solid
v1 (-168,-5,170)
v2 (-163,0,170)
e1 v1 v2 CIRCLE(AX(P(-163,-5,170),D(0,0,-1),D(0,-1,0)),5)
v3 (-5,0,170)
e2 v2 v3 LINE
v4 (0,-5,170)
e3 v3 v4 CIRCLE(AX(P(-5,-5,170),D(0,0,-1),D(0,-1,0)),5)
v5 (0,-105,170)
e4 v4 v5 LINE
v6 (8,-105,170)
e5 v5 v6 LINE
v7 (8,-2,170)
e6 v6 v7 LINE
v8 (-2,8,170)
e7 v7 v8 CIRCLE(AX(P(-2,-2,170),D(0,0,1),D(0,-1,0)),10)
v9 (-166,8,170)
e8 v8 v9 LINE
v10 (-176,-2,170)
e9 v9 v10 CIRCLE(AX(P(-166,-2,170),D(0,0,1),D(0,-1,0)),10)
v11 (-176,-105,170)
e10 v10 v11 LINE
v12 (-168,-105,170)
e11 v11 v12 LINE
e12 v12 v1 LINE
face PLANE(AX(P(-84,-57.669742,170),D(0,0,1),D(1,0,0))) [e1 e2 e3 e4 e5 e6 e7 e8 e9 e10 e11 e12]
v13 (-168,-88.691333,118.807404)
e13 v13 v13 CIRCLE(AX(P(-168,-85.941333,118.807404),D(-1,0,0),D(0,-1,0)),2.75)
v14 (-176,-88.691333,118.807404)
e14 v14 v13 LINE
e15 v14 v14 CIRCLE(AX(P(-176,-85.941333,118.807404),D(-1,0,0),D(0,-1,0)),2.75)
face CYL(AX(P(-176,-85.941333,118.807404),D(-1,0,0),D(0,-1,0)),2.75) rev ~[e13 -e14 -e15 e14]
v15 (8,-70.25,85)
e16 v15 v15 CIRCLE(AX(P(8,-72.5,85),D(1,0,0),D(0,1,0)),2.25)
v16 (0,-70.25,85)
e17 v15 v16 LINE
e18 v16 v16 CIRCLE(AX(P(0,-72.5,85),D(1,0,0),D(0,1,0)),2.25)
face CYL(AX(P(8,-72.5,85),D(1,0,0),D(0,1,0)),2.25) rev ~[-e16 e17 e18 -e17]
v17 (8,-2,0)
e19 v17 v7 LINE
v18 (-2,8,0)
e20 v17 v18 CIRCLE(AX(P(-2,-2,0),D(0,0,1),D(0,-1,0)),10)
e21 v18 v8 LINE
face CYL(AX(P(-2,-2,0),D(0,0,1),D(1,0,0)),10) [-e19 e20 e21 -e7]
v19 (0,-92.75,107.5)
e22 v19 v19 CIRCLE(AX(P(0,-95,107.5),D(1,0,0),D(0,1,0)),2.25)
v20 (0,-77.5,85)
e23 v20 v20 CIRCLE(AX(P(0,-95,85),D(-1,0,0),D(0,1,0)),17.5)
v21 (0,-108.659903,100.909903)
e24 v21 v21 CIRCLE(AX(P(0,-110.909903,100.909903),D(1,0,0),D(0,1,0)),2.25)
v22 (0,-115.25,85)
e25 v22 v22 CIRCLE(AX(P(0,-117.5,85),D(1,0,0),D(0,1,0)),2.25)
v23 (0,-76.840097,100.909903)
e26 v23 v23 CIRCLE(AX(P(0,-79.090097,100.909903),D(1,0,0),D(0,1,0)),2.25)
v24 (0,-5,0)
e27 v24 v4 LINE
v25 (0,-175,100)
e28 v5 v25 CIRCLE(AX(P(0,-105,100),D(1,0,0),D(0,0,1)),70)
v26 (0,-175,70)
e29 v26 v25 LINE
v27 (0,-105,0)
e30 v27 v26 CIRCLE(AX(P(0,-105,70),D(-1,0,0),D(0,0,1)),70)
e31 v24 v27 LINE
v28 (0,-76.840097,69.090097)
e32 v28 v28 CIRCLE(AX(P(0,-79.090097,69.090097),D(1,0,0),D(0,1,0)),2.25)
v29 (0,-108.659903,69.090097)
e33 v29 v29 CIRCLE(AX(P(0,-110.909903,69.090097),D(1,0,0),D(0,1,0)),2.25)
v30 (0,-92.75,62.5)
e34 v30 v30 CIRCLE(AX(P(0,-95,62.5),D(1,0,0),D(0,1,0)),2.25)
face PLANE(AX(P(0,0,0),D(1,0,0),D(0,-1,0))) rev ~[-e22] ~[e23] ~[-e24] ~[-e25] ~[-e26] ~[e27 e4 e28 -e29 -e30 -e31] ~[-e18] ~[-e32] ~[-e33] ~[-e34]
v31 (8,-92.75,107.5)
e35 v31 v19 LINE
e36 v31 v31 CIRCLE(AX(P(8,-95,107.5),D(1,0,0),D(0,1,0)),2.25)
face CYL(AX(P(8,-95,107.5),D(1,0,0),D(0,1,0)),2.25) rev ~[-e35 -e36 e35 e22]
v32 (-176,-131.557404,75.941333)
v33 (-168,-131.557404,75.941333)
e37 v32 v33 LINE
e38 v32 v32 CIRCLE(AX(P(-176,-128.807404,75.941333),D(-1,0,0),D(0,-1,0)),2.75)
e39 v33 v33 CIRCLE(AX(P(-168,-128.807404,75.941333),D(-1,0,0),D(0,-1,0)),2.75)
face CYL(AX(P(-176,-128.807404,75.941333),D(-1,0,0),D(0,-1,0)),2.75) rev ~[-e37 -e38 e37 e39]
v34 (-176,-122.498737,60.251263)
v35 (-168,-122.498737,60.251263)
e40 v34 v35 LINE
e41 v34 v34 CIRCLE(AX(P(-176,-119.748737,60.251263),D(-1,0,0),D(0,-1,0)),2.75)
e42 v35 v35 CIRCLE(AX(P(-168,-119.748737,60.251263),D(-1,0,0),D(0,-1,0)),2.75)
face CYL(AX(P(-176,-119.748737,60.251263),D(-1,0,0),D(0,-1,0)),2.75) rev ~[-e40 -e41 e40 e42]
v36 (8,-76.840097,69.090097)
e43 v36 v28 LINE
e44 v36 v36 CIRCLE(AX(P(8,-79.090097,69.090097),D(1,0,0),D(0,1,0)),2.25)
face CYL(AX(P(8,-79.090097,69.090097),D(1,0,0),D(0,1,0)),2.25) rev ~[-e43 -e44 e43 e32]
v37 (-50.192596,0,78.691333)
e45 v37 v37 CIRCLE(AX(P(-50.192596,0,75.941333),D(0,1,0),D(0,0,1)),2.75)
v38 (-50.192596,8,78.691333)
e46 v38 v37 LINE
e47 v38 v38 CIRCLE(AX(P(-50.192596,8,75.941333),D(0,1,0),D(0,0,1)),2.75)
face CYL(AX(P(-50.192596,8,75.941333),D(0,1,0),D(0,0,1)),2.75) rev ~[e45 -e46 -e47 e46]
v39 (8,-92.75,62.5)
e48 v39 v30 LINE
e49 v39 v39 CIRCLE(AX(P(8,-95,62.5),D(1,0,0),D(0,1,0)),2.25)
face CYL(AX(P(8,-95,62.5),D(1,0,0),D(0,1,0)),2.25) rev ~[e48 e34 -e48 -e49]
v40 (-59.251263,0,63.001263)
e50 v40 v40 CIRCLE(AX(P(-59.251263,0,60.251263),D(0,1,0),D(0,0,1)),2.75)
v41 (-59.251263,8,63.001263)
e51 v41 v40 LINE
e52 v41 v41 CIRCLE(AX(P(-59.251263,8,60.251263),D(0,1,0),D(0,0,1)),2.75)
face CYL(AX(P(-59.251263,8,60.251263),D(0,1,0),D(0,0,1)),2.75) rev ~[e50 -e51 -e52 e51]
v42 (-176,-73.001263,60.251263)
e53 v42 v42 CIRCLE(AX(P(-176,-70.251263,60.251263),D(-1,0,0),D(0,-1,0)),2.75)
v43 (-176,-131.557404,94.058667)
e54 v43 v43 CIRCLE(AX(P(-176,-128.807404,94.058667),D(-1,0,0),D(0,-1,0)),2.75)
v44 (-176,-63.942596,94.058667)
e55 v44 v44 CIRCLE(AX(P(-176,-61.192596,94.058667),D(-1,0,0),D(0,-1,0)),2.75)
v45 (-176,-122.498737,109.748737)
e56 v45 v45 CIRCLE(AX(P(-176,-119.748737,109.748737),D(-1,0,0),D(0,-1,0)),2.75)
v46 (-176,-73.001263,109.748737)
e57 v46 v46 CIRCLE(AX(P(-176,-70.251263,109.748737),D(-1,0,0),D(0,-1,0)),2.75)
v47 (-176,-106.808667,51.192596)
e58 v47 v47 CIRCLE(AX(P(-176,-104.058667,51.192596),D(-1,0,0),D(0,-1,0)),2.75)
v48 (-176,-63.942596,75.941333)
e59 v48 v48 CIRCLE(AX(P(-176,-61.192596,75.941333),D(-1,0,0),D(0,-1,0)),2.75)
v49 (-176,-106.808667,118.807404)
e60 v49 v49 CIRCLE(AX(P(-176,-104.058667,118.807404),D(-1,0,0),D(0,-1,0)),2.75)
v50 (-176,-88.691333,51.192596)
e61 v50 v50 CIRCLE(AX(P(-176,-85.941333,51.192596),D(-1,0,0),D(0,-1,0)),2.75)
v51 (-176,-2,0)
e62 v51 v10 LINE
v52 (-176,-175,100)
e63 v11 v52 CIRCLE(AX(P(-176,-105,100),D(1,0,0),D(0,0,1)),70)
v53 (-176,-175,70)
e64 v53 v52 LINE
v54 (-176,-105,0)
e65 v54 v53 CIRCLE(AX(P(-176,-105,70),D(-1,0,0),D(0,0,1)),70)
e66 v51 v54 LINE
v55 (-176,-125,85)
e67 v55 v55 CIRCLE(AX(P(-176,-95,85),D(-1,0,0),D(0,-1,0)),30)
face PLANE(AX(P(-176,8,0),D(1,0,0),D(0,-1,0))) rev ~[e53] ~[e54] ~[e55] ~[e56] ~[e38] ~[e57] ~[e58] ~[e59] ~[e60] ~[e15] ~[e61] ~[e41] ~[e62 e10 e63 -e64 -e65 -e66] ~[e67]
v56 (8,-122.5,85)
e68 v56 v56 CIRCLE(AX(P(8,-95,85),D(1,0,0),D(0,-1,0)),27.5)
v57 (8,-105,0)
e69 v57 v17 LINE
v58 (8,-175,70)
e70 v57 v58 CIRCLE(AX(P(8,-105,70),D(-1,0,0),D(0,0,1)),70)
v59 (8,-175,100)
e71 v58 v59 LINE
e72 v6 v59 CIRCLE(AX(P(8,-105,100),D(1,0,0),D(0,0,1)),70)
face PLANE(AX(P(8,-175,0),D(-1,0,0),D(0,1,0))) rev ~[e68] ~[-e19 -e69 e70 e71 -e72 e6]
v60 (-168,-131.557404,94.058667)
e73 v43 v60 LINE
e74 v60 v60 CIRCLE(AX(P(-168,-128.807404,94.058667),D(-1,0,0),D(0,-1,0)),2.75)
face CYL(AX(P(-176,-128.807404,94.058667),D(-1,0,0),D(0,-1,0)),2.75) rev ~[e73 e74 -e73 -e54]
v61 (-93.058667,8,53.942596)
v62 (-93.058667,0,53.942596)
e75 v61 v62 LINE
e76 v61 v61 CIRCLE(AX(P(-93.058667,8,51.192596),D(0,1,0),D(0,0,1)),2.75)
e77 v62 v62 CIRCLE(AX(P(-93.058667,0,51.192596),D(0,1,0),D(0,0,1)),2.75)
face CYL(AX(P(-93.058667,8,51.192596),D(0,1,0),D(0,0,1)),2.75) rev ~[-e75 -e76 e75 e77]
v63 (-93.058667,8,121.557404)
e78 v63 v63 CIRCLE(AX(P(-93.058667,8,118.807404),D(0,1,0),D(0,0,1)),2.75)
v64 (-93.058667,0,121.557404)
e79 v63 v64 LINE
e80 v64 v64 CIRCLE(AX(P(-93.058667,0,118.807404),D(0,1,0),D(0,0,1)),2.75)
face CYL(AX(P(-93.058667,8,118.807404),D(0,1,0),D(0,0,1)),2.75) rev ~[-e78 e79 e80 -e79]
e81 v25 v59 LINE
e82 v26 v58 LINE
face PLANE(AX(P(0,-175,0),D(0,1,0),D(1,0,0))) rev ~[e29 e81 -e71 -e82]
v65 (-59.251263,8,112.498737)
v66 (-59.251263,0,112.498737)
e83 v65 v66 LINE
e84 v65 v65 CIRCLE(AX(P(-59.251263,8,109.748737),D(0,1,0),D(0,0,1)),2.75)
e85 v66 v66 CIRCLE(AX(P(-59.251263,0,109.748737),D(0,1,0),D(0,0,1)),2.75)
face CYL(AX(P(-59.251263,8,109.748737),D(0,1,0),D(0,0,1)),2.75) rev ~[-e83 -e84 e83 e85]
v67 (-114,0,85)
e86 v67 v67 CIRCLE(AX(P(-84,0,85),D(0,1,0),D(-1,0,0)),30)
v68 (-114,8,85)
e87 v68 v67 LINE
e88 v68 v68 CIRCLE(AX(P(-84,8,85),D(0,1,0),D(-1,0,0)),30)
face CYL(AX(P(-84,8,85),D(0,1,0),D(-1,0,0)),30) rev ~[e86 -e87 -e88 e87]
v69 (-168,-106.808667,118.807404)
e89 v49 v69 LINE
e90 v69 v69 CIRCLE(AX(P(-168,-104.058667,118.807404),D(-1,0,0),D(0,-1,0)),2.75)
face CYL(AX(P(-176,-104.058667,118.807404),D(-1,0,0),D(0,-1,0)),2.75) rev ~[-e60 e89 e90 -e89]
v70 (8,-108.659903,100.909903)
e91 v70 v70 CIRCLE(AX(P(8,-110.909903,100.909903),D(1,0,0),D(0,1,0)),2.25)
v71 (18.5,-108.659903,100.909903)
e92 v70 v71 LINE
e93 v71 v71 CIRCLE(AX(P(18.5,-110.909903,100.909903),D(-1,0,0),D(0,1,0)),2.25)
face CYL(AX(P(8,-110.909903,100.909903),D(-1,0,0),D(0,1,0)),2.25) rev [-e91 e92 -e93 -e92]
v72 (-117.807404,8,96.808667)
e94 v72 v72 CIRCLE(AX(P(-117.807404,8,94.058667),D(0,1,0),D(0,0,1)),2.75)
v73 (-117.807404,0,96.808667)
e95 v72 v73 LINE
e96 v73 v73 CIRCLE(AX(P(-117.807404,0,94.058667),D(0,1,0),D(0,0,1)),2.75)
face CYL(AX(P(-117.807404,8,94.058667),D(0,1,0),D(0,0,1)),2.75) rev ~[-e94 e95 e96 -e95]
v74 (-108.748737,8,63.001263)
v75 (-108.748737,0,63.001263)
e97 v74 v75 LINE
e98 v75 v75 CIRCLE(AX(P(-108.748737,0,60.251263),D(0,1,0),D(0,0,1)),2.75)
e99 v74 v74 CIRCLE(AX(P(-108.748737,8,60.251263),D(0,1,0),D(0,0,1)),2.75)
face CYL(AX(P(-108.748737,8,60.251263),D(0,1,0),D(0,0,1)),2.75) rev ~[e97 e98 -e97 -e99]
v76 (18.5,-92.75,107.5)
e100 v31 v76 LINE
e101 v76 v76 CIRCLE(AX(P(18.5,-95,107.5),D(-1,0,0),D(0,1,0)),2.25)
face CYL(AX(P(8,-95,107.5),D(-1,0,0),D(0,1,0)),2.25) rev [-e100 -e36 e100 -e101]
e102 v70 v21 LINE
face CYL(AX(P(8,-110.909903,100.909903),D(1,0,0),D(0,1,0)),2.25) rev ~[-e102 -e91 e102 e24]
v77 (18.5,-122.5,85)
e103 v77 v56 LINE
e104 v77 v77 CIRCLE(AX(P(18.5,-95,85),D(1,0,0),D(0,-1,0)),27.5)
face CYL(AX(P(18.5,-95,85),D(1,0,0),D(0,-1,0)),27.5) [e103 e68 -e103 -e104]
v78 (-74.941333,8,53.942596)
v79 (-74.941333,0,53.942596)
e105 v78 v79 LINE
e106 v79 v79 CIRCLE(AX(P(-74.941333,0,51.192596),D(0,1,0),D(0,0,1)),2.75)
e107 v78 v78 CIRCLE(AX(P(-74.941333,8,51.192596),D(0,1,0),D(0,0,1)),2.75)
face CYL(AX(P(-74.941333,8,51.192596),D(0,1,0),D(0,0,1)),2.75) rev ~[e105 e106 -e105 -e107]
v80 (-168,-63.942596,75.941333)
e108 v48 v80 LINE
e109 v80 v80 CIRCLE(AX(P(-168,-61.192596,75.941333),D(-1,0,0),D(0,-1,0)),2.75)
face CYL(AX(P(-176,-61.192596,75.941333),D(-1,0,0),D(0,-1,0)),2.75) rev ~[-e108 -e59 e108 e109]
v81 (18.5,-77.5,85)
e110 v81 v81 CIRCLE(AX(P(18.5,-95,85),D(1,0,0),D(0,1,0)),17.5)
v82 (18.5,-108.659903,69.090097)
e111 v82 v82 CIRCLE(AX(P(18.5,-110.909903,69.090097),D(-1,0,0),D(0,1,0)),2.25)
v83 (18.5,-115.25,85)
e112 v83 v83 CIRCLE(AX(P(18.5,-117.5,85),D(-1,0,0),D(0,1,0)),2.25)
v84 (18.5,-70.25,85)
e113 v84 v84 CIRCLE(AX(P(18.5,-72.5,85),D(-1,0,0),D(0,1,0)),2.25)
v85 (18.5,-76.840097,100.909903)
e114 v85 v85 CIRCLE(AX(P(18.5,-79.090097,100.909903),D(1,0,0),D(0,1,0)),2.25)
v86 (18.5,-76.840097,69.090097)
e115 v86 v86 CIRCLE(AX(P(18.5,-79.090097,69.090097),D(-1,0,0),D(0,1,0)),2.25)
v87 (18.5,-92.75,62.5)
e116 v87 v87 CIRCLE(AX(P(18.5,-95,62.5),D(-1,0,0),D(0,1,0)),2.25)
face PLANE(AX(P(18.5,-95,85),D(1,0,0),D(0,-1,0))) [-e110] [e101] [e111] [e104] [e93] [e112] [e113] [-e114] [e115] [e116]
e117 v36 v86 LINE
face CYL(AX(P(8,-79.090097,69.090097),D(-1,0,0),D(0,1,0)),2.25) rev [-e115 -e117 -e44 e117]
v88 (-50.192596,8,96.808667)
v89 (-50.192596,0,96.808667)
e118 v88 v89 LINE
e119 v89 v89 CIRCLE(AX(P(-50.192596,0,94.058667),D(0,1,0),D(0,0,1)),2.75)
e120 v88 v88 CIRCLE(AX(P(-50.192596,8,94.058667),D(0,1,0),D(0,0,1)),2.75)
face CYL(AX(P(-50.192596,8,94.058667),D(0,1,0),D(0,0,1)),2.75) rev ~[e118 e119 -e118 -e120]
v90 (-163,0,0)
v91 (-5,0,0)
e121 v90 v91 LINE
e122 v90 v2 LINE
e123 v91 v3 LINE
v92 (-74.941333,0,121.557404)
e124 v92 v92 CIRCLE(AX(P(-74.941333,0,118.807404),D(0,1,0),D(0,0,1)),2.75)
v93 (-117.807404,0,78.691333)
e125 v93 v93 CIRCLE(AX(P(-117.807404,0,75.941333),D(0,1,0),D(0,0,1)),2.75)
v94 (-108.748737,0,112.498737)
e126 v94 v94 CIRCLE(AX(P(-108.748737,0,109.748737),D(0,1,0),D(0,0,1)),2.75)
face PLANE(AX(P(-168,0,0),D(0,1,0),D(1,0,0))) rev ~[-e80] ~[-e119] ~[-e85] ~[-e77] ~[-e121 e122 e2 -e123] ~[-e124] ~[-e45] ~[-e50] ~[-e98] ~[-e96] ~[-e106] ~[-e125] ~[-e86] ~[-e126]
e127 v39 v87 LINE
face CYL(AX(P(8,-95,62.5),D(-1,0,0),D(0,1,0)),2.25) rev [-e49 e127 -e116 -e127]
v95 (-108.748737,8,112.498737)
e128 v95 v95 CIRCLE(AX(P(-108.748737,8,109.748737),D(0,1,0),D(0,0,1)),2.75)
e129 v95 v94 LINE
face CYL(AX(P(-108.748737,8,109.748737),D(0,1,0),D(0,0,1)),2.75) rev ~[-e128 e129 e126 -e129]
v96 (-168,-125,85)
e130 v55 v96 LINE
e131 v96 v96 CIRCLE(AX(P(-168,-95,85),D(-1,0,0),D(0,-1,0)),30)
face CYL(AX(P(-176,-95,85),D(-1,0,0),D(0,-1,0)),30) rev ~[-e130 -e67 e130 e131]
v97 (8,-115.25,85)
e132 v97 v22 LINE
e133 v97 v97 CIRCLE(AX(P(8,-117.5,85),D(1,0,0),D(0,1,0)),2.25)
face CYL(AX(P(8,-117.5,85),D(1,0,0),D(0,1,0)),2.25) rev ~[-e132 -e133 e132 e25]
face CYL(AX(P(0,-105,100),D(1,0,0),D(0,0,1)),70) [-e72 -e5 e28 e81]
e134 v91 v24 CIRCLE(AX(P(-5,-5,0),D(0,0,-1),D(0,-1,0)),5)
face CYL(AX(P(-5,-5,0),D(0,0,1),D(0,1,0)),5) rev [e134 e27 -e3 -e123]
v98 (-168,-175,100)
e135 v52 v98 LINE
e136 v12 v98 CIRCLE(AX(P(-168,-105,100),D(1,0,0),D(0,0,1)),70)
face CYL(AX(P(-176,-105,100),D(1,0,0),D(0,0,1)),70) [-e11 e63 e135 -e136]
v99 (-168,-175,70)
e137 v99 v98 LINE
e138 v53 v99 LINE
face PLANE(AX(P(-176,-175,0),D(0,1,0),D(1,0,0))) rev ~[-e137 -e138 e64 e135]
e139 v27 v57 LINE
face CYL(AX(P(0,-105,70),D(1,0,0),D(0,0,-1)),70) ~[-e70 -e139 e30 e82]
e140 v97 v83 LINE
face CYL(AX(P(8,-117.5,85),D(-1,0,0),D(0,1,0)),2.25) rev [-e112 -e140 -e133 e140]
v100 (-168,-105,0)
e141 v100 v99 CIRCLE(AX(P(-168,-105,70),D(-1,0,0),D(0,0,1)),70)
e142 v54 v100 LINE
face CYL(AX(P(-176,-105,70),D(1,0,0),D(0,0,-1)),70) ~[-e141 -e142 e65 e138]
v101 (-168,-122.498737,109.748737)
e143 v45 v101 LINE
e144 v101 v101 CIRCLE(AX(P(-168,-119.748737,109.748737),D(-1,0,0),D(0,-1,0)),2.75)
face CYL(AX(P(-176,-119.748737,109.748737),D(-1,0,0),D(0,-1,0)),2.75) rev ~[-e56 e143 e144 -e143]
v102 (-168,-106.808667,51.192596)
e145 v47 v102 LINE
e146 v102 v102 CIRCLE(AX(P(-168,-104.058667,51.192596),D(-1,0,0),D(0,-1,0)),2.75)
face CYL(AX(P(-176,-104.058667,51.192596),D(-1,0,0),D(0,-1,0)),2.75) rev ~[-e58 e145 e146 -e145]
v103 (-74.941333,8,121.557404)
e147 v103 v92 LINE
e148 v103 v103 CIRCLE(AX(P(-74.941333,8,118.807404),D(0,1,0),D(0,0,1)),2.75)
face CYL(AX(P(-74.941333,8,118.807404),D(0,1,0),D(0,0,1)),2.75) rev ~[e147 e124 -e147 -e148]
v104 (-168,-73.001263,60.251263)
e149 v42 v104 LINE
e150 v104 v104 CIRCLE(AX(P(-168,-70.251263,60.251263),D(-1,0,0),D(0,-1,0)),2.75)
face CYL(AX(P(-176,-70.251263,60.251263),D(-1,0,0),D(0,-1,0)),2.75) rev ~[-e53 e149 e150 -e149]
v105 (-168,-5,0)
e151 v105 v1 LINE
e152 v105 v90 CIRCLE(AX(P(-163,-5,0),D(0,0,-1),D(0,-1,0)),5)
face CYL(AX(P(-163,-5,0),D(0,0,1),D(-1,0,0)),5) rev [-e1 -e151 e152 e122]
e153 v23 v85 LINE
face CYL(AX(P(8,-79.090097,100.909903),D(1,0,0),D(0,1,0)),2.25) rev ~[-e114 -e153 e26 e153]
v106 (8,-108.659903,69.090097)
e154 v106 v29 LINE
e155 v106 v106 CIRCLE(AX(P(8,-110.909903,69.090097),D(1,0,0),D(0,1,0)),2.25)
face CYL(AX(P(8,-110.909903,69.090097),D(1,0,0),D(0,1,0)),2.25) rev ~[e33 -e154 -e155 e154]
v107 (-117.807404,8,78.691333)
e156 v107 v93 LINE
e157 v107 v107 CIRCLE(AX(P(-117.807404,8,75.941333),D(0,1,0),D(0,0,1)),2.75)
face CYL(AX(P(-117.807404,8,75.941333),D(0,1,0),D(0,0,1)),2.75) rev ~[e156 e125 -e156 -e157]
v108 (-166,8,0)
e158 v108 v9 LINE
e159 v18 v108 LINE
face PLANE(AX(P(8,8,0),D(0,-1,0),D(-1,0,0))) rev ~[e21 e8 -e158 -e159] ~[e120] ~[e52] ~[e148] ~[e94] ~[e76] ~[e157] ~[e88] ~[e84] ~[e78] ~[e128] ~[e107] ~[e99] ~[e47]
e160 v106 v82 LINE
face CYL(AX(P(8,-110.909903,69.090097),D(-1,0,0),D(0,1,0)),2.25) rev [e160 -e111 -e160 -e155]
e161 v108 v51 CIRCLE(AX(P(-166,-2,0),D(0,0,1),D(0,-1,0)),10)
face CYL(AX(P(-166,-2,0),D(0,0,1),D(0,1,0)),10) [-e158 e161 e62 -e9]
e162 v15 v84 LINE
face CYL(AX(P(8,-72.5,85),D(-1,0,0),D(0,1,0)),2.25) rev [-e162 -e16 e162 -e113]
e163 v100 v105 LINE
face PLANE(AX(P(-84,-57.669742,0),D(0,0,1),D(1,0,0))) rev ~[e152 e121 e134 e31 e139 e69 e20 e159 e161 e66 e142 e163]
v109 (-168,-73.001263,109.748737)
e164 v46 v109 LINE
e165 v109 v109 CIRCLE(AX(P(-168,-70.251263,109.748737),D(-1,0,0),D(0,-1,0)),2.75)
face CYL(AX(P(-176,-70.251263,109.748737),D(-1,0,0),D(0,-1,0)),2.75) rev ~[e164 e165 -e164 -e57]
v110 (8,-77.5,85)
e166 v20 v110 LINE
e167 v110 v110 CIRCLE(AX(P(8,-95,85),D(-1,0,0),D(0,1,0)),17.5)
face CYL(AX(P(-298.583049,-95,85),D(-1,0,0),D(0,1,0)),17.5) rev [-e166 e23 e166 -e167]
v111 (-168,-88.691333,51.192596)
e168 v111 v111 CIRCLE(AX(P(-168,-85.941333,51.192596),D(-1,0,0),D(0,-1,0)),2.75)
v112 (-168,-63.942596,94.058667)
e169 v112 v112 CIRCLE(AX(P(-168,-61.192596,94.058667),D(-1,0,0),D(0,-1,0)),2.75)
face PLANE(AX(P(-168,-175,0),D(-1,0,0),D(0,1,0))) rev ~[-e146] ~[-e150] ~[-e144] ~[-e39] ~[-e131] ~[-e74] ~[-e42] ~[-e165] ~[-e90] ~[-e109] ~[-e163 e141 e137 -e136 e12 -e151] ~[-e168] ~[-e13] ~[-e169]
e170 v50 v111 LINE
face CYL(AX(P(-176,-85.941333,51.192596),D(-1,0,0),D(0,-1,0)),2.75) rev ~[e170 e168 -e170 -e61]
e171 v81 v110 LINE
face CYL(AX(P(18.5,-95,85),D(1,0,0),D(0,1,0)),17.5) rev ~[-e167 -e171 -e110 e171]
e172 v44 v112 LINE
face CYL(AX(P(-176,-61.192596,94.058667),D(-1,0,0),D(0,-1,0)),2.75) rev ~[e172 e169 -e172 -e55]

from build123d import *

# Parameters (mm, degrees)
EXTRUDE_1_DEPTH          = 170
SKETCH_2_R               = 30
CUT_EXTRUDE_1_DEPTH      = 180
CUT_EXTRUDE_2_DEPTH      = 306.583049268
CUT_EXTRUDE_2_DEPTH_BACK = 306.583049268
SKETCH_3_R               = 17.5
FILLET_1_R               = 70
FILLET_2_R               = 5
FILLET_3_R               = 10
SKETCH_6_R               = 30
CUT_EXTRUDE_6_DEPTH      = 39
SKETCH_12_R              = 2.75
CUT_EXTRUDE_12_DEPTH     = 10
EXTRUDE_START            = 10.5
SKETCH_14_R              = 27.5
SKETCH_14_R_2            = 17.5
EXTRUDE_2_DEPTH          = 10.5
SKETCH_13_R              = 2.25
CUT_EXTRUDE_13_DEPTH     = 15
SKETCH_15_R              = 2.75
CUT_EXTRUDE_14_DEPTH     = 10


with BuildPart() as part:
    # 草图1 → 凸台-拉伸1 (new body)
    with BuildSketch(Plane.XY):
        Polygon((-168, 0), (0, 0), (0, -175), (8, -175), (8, 8), (-168, 8), (-176, 8), (-176, -175), (-168, -175), align=None)
    extrude(amount=EXTRUDE_1_DEPTH)

    # 草图2 → 切除-拉伸1 (cut)
    with BuildSketch(Plane(origin=(0, 8, 0), x_dir=(1, 0, 0), z_dir=(0, 1, 0))):
        with Locations(Location((-84, -85, 0), (0, 0, 180))):
            Circle(SKETCH_2_R)
    extrude(amount=-CUT_EXTRUDE_1_DEPTH, mode=Mode.SUBTRACT)

    # 草图3 → 切除-拉伸2 (cut, two sides: drawn at the far end of the back side and taken through both)
    with BuildSketch(Plane(origin=(8, 0, 0), x_dir=(0, 0, -1), z_dir=(1, 0, 0)).offset(-CUT_EXTRUDE_2_DEPTH_BACK)):
        with Locations(Location((-85, -95, 0), (0, 0, 90))):
            Circle(SKETCH_3_R)
    extrude(amount=CUT_EXTRUDE_2_DEPTH + CUT_EXTRUDE_2_DEPTH_BACK, mode=Mode.SUBTRACT)

    # 圆角1
    fillet_1_edges = [part.edges().sort_by_distance(p)[0] for p in [
        (4, -175, 0),
        (4, -175, 170),
        (-172, -175, 170),
        (-172, -175, 0),
    ]]
    fillet(fillet_1_edges, radius=FILLET_1_R)

    # 圆角2
    fillet_2_edges = [part.edges().sort_by_distance(p)[0] for p in [
        (0, 0, 85),
        (-168, 0, 85),
    ]]
    fillet(fillet_2_edges, radius=FILLET_2_R)

    # 圆角3
    fillet_3_edges = [part.edges().sort_by_distance(p)[0] for p in [
        (-176, 8, 85),
        (8, 8, 85),
    ]]
    fillet(fillet_3_edges, radius=FILLET_3_R)

    # 草图6 → 切除-拉伸6 (cut)
    with BuildSketch(Plane.ZY.offset(176)):
        with Locations(Location((85, -95, 0), (0, 0, 270))):
            Circle(SKETCH_6_R)
    extrude(amount=-CUT_EXTRUDE_6_DEPTH, mode=Mode.SUBTRACT)

    # 草图12 → 切除-拉伸12 (cut)
    with BuildSketch(Plane.ZY.offset(176)):
        with Locations(Location((94.058666579, -128.80740392, 0), (0, 0, 270))):
            Circle(SKETCH_12_R)
        with Locations(Location((75.941333421, -128.80740392, 0), (0, 0, 270))):
            Circle(SKETCH_12_R)
        with Locations(Location((60.251262658, -119.748737342, 0), (0, 0, 270))):
            Circle(SKETCH_12_R)
        with Locations(Location((51.19259608, -104.058666579, 0), (0, 0, 270))):
            Circle(SKETCH_12_R)
        with Locations(Location((51.19259608, -85.941333421, 0), (0, 0, 270))):
            Circle(SKETCH_12_R)
        with Locations(Location((60.251262658, -70.251262658, 0), (0, 0, 270))):
            Circle(SKETCH_12_R)
        with Locations(Location((75.941333421, -61.19259608, 0), (0, 0, 270))):
            Circle(SKETCH_12_R)
        with Locations(Location((94.058666579, -61.19259608, 0), (0, 0, 270))):
            Circle(SKETCH_12_R)
        with Locations(Location((109.748737342, -70.251262658, 0), (0, 0, 270))):
            Circle(SKETCH_12_R)
        with Locations(Location((118.80740392, -85.941333421, 0), (0, 0, 270))):
            Circle(SKETCH_12_R)
        with Locations(Location((118.80740392, -104.058666579, 0), (0, 0, 270))):
            Circle(SKETCH_12_R)
        with Locations(Location((109.748737342, -119.748737342, 0), (0, 0, 270))):
            Circle(SKETCH_12_R)
    extrude(amount=-CUT_EXTRUDE_12_DEPTH, mode=Mode.SUBTRACT)

    # 草图14 → 凸台-拉伸2 (add)
    with BuildSketch(Plane(origin=(8, 0, 0), x_dir=(0, 0, -1), z_dir=(1, 0, 0)).offset(EXTRUDE_START)):
        with Locations(Location((-85, -95, 0), (0, 0, 270))):
            Circle(SKETCH_14_R)
        with Locations(Location((-85, -95, 0), (0, 0, 90))):
            Circle(SKETCH_14_R_2, mode=Mode.SUBTRACT)
    extrude(amount=-EXTRUDE_2_DEPTH)

    # 草图13 → 切除-拉伸13 (cut, symmetric)
    with BuildSketch(Plane(origin=(8, 0, 0), x_dir=(0, 0, -1), z_dir=(1, 0, 0))):
        with Locations(Location((-85, -72.5, 0), (0, 0, 90))):
            Circle(SKETCH_13_R)
        with Locations(Location((-69.090097423, -79.090097423, 0), (0, 0, 90))):
            Circle(SKETCH_13_R)
        with Locations(Location((-62.5, -95, 0), (0, 0, 90))):
            Circle(SKETCH_13_R)
        with Locations(Location((-69.090097423, -110.909902577, 0), (0, 0, 90))):
            Circle(SKETCH_13_R)
        with Locations(Location((-85, -117.5, 0), (0, 0, 90))):
            Circle(SKETCH_13_R)
        with Locations(Location((-100.909902577, -110.909902577, 0), (0, 0, 90))):
            Circle(SKETCH_13_R)
        with Locations(Location((-107.5, -95, 0), (0, 0, 90))):
            Circle(SKETCH_13_R)
        with Locations(Location((-100.909902577, -79.090097423, 0), (0, 0, 90))):
            Circle(SKETCH_13_R)
    extrude(amount=CUT_EXTRUDE_13_DEPTH, both=True, mode=Mode.SUBTRACT)

    # 草图15 → 切除-拉伸14 (cut)
    with BuildSketch(Plane(origin=(0, 8, 0), x_dir=(1, 0, 0), z_dir=(0, 1, 0))):
        with Locations(Location((-74.941333421, -118.80740392, 0), (0, 0, 270))):
            Circle(SKETCH_15_R)
        with Locations(Location((-93.058666579, -118.80740392, 0), (0, 0, 270))):
            Circle(SKETCH_15_R)
        with Locations(Location((-108.748737342, -109.748737342, 0), (0, 0, 270))):
            Circle(SKETCH_15_R)
        with Locations(Location((-117.80740392, -94.058666579, 0), (0, 0, 270))):
            Circle(SKETCH_15_R)
        with Locations(Location((-117.80740392, -75.941333421, 0), (0, 0, 270))):
            Circle(SKETCH_15_R)
        with Locations(Location((-108.748737342, -60.251262658, 0), (0, 0, 270))):
            Circle(SKETCH_15_R)
        with Locations(Location((-93.058666579, -51.19259608, 0), (0, 0, 270))):
            Circle(SKETCH_15_R)
        with Locations(Location((-74.941333421, -51.19259608, 0), (0, 0, 270))):
            Circle(SKETCH_15_R)
        with Locations(Location((-59.251262658, -60.251262658, 0), (0, 0, 270))):
            Circle(SKETCH_15_R)
        with Locations(Location((-50.19259608, -75.941333421, 0), (0, 0, 270))):
            Circle(SKETCH_15_R)
        with Locations(Location((-50.19259608, -94.058666579, 0), (0, 0, 270))):
            Circle(SKETCH_15_R)
        with Locations(Location((-59.251262658, -109.748737342, 0), (0, 0, 270))):
            Circle(SKETCH_15_R)
    extrude(amount=-CUT_EXTRUDE_14_DEPTH, mode=Mode.SUBTRACT)


solid = part.part
